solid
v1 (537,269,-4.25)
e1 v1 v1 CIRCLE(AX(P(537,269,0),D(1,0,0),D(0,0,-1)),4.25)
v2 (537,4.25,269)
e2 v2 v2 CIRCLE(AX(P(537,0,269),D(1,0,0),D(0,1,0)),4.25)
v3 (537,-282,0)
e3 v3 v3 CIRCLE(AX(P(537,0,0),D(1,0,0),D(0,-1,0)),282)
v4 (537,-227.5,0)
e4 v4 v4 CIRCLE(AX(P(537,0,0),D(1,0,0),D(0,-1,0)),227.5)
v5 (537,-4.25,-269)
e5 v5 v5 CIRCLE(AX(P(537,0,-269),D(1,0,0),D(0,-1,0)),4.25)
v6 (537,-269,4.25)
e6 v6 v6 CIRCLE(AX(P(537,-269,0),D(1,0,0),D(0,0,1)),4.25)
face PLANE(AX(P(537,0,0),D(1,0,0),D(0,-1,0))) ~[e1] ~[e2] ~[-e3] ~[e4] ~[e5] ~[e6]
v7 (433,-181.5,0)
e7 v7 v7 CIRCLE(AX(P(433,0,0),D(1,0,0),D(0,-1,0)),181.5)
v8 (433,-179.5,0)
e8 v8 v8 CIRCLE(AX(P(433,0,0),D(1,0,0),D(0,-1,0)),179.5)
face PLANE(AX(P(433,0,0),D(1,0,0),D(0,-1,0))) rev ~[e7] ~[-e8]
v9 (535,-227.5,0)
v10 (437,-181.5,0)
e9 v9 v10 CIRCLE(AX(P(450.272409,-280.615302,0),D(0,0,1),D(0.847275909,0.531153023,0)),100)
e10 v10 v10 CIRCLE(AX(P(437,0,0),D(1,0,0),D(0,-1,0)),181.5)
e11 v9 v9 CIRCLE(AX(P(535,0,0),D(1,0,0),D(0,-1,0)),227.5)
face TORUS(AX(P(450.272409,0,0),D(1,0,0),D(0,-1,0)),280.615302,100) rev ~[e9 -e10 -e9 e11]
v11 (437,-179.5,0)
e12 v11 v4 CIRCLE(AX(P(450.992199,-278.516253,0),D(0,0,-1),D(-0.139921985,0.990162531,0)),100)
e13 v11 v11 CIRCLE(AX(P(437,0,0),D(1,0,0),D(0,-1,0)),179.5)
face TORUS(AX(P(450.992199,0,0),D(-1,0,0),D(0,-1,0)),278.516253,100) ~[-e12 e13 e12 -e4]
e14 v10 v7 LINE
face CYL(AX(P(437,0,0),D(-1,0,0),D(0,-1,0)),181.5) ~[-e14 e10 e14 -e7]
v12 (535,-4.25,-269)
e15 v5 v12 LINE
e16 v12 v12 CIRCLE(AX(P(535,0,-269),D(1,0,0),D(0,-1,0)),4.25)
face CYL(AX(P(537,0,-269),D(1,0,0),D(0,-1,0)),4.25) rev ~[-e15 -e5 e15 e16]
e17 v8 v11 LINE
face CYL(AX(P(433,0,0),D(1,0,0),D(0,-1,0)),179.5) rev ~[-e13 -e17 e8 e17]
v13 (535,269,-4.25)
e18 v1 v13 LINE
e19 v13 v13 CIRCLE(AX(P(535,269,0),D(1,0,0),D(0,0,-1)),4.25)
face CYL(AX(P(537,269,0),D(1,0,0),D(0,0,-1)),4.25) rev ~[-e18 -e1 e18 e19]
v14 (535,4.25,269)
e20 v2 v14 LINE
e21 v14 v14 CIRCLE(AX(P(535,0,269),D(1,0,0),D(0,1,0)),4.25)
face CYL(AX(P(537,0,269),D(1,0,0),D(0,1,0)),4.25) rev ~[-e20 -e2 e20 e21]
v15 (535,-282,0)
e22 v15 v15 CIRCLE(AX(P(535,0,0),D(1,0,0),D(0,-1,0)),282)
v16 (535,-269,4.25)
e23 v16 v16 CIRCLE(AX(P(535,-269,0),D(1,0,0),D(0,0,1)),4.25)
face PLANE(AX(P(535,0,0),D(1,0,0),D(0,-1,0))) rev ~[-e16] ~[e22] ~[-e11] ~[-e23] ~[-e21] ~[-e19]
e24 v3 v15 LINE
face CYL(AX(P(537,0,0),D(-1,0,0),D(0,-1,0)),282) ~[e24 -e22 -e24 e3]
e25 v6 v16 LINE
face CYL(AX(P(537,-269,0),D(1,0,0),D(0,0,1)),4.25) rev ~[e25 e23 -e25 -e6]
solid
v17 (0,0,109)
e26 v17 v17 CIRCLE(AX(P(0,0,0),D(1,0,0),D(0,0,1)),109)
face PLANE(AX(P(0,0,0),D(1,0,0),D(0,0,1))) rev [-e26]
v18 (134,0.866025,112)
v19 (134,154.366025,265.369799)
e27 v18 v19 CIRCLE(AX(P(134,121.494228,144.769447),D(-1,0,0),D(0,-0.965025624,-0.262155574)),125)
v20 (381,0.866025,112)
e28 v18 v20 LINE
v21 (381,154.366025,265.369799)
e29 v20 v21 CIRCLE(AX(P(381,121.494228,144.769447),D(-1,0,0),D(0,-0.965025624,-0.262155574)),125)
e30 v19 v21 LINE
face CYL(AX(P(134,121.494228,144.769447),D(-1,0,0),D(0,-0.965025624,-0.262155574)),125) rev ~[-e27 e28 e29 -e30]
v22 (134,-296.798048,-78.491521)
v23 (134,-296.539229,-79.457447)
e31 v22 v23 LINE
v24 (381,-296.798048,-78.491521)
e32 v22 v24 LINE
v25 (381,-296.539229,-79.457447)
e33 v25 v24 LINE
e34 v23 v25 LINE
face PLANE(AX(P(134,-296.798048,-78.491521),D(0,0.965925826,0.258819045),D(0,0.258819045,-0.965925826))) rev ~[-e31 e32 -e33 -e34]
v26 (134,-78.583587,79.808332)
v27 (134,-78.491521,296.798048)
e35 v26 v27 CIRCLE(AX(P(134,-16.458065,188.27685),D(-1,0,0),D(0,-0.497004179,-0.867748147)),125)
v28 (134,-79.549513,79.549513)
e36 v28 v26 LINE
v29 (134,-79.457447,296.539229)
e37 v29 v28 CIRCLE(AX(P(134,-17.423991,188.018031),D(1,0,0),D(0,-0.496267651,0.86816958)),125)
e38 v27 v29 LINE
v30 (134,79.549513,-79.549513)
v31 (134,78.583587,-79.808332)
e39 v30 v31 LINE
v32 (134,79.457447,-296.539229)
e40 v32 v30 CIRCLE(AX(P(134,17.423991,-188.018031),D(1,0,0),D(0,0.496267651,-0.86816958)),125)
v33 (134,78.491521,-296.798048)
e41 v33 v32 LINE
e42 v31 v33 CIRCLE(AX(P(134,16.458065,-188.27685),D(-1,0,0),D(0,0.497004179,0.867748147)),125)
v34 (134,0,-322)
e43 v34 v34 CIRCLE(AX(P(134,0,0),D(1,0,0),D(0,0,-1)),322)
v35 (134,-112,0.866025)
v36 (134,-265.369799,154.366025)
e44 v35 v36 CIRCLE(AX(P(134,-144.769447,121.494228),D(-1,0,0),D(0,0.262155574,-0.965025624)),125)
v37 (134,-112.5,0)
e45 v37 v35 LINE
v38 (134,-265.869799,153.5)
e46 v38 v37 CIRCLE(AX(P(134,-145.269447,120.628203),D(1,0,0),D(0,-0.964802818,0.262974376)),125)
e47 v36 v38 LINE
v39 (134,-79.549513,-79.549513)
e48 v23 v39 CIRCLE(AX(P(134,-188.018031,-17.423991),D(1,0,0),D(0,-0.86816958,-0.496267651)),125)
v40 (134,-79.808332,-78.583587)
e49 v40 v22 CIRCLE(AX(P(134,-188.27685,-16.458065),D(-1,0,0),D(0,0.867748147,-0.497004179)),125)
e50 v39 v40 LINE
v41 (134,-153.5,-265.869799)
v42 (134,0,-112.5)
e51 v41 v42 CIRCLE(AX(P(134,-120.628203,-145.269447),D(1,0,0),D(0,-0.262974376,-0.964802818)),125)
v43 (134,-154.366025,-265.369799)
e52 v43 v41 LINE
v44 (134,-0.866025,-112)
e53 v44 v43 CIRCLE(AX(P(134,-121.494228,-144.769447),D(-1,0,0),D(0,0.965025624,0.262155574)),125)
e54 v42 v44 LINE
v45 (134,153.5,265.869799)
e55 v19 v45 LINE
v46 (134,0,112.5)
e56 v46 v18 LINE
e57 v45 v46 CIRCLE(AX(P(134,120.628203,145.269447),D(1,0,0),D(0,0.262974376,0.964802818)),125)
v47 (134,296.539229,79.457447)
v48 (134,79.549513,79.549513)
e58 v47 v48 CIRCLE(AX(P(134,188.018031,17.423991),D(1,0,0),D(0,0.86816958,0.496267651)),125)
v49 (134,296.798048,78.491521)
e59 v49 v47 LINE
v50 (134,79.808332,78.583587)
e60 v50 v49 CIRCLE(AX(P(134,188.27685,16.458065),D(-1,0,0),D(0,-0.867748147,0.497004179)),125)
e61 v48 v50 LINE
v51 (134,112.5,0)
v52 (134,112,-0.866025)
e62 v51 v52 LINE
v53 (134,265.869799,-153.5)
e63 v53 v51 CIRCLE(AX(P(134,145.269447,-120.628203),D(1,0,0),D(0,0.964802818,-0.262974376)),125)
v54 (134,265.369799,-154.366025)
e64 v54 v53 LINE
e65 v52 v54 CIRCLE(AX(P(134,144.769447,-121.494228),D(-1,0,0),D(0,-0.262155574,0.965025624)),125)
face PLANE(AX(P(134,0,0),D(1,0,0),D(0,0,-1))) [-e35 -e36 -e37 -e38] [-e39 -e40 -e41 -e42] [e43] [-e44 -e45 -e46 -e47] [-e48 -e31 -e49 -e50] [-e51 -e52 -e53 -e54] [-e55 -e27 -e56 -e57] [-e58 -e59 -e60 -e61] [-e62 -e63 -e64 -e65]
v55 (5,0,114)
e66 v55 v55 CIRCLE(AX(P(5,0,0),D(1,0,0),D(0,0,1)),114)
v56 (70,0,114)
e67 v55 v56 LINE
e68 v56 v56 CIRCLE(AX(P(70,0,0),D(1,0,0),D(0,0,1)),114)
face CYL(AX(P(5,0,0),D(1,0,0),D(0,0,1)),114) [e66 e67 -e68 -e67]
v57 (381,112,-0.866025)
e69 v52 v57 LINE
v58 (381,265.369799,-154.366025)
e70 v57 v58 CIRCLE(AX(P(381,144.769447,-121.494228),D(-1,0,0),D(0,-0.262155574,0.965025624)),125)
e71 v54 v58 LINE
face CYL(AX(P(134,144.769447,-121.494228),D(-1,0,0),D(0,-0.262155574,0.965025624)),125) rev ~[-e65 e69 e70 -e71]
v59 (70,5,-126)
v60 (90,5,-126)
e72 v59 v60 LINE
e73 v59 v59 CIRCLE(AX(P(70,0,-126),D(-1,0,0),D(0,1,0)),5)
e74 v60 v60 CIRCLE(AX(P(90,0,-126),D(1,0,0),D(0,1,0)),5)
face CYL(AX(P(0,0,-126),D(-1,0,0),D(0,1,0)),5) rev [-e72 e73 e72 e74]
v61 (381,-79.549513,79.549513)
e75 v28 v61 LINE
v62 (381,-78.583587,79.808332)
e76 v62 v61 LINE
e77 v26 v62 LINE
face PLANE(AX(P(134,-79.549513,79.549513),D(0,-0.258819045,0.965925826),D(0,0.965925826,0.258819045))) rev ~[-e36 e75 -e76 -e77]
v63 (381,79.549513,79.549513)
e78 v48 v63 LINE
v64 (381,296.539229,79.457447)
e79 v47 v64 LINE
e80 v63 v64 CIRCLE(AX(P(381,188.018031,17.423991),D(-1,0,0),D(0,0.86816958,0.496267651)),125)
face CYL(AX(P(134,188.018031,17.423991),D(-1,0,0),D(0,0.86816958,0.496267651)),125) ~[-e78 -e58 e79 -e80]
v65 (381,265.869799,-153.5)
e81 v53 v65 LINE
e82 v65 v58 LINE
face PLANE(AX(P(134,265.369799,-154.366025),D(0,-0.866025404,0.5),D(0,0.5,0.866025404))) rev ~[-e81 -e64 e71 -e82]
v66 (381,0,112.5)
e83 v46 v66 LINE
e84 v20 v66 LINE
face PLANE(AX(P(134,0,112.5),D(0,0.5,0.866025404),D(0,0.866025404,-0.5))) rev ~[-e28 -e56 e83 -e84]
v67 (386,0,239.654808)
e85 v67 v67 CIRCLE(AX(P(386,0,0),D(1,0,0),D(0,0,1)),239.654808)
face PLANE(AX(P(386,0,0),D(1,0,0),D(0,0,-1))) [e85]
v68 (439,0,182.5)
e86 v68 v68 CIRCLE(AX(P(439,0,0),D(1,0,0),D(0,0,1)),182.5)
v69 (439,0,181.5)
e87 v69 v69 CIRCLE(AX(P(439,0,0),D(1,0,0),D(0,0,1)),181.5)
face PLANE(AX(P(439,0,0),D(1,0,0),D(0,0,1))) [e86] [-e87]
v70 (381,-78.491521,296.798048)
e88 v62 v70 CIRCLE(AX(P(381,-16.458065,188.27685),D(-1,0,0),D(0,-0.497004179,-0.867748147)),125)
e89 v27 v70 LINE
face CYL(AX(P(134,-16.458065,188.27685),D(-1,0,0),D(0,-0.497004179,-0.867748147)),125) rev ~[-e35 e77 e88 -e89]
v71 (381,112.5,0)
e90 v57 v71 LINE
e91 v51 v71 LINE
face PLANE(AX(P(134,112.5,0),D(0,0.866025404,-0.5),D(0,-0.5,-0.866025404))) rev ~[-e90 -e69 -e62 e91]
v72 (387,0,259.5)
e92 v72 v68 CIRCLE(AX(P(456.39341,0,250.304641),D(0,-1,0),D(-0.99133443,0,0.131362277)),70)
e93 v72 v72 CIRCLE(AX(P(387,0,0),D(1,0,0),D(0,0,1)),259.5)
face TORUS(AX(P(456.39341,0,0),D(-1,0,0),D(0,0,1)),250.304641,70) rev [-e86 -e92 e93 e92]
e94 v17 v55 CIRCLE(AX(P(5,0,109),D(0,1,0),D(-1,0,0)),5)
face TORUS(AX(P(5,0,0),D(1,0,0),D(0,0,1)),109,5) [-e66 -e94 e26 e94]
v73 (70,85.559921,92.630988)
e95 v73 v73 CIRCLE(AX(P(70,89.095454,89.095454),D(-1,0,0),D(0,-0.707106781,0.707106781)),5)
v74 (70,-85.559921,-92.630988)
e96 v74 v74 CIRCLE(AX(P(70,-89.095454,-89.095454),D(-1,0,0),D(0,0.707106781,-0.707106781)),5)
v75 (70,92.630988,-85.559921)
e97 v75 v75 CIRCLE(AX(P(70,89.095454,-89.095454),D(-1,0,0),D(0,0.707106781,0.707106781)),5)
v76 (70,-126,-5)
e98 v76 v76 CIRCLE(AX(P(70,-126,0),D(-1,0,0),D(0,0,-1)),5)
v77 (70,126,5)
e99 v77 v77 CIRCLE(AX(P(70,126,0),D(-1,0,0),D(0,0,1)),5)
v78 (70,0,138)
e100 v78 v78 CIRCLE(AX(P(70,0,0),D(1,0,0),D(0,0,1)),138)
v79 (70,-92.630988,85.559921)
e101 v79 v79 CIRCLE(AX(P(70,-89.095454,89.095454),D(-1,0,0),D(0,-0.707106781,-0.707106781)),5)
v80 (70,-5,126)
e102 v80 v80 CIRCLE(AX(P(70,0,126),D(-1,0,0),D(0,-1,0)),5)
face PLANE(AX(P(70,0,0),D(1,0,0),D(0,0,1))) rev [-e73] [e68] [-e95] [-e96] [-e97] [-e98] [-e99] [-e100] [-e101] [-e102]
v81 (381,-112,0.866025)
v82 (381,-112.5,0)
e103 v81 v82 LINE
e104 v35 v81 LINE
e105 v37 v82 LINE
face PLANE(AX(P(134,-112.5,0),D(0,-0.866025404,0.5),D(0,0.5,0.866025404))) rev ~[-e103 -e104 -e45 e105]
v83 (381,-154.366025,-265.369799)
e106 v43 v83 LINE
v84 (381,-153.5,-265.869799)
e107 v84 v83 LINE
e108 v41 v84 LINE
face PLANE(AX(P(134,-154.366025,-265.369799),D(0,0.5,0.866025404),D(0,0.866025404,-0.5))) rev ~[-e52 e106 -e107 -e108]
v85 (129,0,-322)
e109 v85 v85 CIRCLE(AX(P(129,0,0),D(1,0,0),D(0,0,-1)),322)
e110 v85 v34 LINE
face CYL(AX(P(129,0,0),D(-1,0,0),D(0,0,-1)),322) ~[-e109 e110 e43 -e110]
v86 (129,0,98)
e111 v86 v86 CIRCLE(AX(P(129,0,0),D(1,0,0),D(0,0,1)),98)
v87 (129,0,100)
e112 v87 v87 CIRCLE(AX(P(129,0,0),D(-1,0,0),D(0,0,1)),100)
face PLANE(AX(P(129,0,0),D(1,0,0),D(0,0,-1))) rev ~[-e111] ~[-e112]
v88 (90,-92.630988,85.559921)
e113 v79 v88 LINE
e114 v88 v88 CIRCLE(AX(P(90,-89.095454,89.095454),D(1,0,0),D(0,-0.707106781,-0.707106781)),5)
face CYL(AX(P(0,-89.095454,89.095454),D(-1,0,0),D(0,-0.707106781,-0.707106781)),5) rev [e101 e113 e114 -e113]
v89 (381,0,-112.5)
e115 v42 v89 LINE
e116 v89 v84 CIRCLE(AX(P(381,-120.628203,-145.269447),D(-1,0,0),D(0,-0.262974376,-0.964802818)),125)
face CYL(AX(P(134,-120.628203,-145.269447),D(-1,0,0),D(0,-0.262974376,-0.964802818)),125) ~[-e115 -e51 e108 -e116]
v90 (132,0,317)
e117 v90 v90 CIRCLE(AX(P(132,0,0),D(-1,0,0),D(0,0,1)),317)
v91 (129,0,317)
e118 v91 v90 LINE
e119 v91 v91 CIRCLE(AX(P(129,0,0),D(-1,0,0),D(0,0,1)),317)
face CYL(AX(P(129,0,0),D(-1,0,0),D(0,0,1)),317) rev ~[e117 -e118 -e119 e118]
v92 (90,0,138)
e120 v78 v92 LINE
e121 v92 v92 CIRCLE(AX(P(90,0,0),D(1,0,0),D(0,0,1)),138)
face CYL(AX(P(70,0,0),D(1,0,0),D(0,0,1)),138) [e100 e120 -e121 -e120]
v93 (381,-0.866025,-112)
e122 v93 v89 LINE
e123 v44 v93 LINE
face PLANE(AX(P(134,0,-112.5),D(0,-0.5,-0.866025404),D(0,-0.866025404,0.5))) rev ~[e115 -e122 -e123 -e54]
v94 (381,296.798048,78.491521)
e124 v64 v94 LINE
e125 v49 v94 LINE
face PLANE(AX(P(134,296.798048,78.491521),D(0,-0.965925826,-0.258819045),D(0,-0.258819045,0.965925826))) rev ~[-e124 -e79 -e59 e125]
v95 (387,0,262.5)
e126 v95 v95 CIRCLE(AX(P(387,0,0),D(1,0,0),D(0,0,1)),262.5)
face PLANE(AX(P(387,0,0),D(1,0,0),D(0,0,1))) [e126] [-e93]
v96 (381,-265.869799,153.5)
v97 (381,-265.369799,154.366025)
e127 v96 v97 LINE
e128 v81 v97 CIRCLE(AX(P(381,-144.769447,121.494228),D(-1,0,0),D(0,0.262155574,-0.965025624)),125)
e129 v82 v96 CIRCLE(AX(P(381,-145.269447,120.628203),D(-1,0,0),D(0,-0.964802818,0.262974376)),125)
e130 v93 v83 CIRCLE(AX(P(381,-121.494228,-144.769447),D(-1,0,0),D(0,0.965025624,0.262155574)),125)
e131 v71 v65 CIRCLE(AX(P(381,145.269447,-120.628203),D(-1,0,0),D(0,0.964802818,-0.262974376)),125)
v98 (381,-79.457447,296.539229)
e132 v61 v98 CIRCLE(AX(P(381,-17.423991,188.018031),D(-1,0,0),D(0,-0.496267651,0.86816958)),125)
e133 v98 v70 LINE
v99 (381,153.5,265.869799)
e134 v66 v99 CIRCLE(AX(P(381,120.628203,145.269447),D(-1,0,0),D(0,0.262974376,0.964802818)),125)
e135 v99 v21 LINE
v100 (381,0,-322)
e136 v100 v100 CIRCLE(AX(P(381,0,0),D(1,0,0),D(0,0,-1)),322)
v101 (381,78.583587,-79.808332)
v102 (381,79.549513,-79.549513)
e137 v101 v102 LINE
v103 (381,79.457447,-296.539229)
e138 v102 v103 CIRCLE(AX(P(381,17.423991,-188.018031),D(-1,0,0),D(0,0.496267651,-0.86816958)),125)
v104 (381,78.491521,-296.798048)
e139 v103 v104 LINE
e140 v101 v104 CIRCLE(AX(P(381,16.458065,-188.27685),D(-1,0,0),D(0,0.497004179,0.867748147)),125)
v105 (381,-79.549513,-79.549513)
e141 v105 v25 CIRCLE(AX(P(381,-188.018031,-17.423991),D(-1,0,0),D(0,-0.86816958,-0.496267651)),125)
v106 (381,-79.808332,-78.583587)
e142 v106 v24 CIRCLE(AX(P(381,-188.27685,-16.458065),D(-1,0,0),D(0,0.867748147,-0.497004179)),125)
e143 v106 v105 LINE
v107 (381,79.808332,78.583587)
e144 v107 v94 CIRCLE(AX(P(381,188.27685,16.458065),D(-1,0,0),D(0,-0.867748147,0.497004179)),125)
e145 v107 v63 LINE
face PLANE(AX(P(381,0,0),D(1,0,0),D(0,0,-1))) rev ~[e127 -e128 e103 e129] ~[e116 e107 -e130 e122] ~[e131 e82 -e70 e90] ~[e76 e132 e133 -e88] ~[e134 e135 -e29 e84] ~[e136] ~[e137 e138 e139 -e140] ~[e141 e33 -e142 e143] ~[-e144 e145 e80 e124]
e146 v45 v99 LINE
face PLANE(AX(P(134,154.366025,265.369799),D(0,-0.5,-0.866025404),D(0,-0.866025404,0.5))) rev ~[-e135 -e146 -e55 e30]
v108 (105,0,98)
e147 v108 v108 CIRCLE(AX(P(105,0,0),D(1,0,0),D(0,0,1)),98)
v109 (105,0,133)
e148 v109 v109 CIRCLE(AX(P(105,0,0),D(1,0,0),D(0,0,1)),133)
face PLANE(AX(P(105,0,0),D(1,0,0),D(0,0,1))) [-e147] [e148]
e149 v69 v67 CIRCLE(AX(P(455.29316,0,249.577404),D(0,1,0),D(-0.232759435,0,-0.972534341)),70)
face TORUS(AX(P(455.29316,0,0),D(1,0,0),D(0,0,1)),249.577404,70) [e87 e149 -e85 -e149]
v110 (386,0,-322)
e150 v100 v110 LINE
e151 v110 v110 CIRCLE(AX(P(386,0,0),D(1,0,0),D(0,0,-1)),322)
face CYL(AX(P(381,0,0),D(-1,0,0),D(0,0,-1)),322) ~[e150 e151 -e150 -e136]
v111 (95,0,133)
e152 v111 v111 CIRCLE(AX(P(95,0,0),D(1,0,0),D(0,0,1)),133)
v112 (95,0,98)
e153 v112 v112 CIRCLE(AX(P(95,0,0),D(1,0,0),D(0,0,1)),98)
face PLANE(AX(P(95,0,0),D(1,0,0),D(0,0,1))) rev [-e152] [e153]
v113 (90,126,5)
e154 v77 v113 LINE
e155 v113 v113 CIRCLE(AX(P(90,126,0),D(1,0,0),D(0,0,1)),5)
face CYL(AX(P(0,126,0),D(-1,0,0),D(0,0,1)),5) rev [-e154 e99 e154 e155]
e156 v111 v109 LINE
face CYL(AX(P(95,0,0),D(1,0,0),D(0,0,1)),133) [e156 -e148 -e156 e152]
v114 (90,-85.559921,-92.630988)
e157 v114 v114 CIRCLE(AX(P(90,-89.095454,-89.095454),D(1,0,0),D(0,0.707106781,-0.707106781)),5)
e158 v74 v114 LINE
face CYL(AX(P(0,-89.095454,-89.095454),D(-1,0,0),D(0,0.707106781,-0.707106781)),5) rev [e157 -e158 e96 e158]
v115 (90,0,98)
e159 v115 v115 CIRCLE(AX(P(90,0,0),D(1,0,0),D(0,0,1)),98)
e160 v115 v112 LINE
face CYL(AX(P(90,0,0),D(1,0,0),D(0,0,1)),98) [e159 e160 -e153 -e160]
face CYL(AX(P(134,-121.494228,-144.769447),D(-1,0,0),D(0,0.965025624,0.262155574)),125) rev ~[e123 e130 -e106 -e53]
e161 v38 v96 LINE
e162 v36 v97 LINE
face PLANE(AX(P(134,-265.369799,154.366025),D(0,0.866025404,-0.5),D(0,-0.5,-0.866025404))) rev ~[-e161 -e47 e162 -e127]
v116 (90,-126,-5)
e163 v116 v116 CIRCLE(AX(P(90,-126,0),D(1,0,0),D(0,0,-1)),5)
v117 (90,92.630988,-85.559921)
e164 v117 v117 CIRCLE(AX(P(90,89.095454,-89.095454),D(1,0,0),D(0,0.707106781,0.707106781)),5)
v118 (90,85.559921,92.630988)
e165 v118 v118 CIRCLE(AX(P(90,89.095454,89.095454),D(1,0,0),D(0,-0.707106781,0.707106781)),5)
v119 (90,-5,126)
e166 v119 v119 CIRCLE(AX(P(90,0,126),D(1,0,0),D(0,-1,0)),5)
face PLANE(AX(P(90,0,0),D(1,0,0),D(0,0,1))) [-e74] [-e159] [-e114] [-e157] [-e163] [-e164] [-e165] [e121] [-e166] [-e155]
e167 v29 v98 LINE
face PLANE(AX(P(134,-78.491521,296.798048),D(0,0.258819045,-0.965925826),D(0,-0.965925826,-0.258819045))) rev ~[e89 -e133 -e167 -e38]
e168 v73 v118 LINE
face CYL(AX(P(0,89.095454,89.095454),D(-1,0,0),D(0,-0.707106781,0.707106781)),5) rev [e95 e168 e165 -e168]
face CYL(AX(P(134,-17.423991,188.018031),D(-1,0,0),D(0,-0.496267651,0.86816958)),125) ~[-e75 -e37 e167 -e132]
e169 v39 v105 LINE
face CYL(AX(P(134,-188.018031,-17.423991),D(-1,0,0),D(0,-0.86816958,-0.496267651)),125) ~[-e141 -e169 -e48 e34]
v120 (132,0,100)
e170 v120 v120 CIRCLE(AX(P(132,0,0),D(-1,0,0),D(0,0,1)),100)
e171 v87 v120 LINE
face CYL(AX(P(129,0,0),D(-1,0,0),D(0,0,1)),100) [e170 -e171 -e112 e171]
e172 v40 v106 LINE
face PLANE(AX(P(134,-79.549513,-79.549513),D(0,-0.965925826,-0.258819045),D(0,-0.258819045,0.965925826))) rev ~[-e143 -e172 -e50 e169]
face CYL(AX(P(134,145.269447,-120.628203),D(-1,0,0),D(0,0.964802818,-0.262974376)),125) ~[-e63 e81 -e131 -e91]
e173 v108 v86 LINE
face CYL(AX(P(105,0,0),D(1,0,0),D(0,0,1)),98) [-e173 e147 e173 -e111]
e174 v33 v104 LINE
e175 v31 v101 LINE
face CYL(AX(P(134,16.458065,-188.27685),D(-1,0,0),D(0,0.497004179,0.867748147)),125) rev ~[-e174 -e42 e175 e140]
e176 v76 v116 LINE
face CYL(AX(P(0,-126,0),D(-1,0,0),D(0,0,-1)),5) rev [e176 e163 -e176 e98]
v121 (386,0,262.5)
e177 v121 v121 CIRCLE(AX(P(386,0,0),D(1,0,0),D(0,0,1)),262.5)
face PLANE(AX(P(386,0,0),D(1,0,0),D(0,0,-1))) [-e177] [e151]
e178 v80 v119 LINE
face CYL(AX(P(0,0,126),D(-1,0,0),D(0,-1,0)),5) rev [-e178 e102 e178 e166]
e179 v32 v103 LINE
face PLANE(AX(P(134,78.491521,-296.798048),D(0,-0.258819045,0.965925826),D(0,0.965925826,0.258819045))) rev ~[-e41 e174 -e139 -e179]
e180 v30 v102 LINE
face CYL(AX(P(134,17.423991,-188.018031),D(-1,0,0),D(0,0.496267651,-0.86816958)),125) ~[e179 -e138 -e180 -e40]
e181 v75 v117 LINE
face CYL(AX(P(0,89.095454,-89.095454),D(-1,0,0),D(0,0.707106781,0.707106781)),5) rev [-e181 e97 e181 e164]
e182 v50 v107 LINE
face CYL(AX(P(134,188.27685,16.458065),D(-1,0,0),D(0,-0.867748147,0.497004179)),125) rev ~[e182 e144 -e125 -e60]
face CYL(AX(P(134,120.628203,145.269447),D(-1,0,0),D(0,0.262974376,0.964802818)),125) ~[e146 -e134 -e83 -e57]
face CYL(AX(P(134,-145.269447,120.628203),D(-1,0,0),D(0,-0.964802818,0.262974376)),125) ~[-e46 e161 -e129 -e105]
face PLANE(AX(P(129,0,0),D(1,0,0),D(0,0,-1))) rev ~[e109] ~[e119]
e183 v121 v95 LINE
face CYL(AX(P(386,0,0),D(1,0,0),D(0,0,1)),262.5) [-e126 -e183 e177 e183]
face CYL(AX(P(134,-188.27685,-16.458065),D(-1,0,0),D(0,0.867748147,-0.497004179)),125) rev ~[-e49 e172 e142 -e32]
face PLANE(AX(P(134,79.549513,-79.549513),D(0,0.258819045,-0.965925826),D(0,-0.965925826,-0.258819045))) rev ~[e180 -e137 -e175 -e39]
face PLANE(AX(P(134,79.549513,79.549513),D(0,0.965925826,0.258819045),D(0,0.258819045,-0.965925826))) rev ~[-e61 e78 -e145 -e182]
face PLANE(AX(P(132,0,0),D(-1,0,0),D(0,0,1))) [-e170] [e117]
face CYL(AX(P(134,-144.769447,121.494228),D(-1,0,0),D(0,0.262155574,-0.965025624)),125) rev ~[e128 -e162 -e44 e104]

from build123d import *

# Parameters (mm, degrees)
SKETCH2_R         = 322
EXTRUDE1_DEPTH    = 5
SKETCH9_R         = 317
SKETCH9_R_2       = 100
EXTRUDE7_DEPTH    = 3
SKETCH3_R         = 322
EXTRUDE2_DEPTH    = 5
EXTRUDE3_DEPTH    = 252
CIRPATTERN1_COUNT = 8
SKETCH7_R         = 4.25
EXTRUDE5_DEPTH    = 5
CIRPATTERN2_COUNT = 4
SKETCH8_R         = 5
EXTRUDE6_DEPTH    = 90
CIRPATTERN3_COUNT = 8


with BuildPart() as part:
    # Sketch1 → Revolve1 (revolve)
    with BuildSketch(Plane.XY, mode=Mode.PRIVATE) as revolve1_sk:
        with BuildLine():
            Line((0, 0), (0, 109))
            ThreePointArc((0, 109), (1.464466094, 112.535533906), (5, 114))
            Line((5, 114), (70, 114))
            Line((70, 114), (70, 138))
            Line((70, 138), (90, 138))
            Line((90, 138), (90, 98))
            Line((90, 98), (95, 98))
            Line((95, 98), (95, 133))
            Line((95, 133), (105, 133))
            Line((105, 133), (105, 98))
            Line((105, 98), (129, 98))
            Line((129, 98), (129, 0))
            Line((129, 0), (0, 0))
        make_face()
    revolve(revolve1_sk.sketch.rotate(Axis((0, 0, 0), (1, 0, 0)), 90), axis=Axis((0, 0, 0), (1, 0, 0)))

    # Sketch2 → Extrude1 (add)
    with BuildSketch(Plane(origin=(129, 0, 0), x_dir=(0, 0, -1), z_dir=(1, 0, 0))):
        Circle(SKETCH2_R)
    extrude(amount=EXTRUDE1_DEPTH)

    # Sketch9 → Extrude7 (cut)
    with BuildSketch(Plane.ZY.offset(-129)):
        Circle(SKETCH9_R)
        Circle(SKETCH9_R_2, mode=Mode.SUBTRACT)
    extrude(amount=-EXTRUDE7_DEPTH, mode=Mode.SUBTRACT)



with BuildPart() as body_2:
    # Sketch3 → Extrude2 (new body)
    with BuildSketch(Plane(origin=(381, 0, 0), x_dir=(0, 0, -1), z_dir=(1, 0, 0))):
        Circle(SKETCH3_R)
    extrude(amount=EXTRUDE2_DEPTH)


with BuildPart() as part_1:
    add(part.part)

    add(body_2.part)  # Extrude3 merges body 2
    # Sketch4 → Extrude3 (add)
    with BuildSketch(Plane(origin=(134, 0, 0), x_dir=(0, 0, -1), z_dir=(1, 0, 0))):
        with BuildLine():
            Line((0, 112.5), (0.866025404, 112))
            ThreePointArc((0.866025404, 112), (33.143390798, 233.195288477), (154.366025404, 265.369798962))
            Line((154.366025404, 265.369798962), (153.5, 265.869798962))
            ThreePointArc((153.5, 265.869798962), (32.277365394, 233.695288477), (0, 112.5))
        make_face()
    extrude3 = extrude(amount=EXTRUDE3_DEPTH)

    # CirPattern1: Extrude3 ×8 about axis
    cirpattern1_axis = Axis((0, 0, 0), (1, 0, 0))
    for i in range(1, CIRPATTERN1_COUNT):
        add(extrude3.rotate(cirpattern1_axis, i * 360 / CIRPATTERN1_COUNT))

    # Sketch5 → Revolve2 (revolve)
    with BuildSketch(Plane.XY, mode=Mode.PRIVATE) as revolve2_sk:
        with BuildLine():
            Line((386, 262.5), (387, 262.5))
            Line((387, 262.5), (387, 259.5))
            ThreePointArc((387, 259.5), (398.382738322, 211.128602503), (439, 182.5))
            Line((439, 182.5), (439, 181.5))
            ThreePointArc((439, 181.5), (397.394502599, 210.236008176), (386, 259.5))
            Line((386, 259.5), (386, 262.5))
        make_face()
    revolve(revolve2_sk.sketch.rotate(Axis((0, 0, 0), (1, 0, 0)), 90), axis=Axis((0, 0, 0), (1, 0, 0)))

    # Sketch8 → Extrude6 (cut)
    with BuildSketch(Plane(origin=(0, 0, 0), x_dir=(0, 0, -1), z_dir=(1, 0, 0))):
        with Locations(Location((0, 126, 0), (0, 0, 180))):
            Circle(SKETCH8_R)
    extrude6 = extrude(amount=EXTRUDE6_DEPTH, mode=Mode.SUBTRACT)

    # CirPattern3: Extrude6 ×8 about axis
    cirpattern3_axis = Axis((0, 0, 0), (1, 0, 0))
    for i in range(1, CIRPATTERN3_COUNT):
        add(extrude6.rotate(cirpattern3_axis, i * 360 / CIRPATTERN3_COUNT), mode=Mode.SUBTRACT)


with BuildPart() as body_2_2:
    # Sketch6 → Revolve3 (revolve)
    with BuildSketch(Plane.XY, mode=Mode.PRIVATE) as revolve3_sk:
        with BuildLine():
            Line((537, 282), (535, 282))
            Line((535, 282), (535, 227.5))
            ThreePointArc((535, 227.5), (492.763122811, 190.091607925), (437, 181.5))
            Line((437, 181.5), (433, 181.5))
            Line((433, 181.5), (433, 179.5))
            Line((433, 179.5), (437, 179.5))
            ThreePointArc((437, 179.5), (494.265305263, 188.363947369), (537, 227.5))
            Line((537, 227.5), (537, 282))
        make_face()
    revolve(revolve3_sk.sketch.rotate(Axis((0, 0, 0), (1, 0, 0)), 180), axis=Axis((0, 0, 0), (1, 0, 0)))

    # Sketch7 → Extrude5 (cut)
    with BuildSketch(Plane(origin=(537, 0, 0), x_dir=(0, 0, -1), z_dir=(1, 0, 0))):
        with Locations((0, 269)):
            Circle(SKETCH7_R)
    extrude5 = extrude(amount=-EXTRUDE5_DEPTH, mode=Mode.SUBTRACT)

    # CirPattern2: Extrude5 ×4 about axis
    cirpattern2_axis = Axis((0, 0, 0), (1, 0, 0))
    for i in range(1, CIRPATTERN2_COUNT):
        add(extrude5.rotate(cirpattern2_axis, i * 360 / CIRPATTERN2_COUNT), mode=Mode.SUBTRACT)


solid = Compound([part_1.part, body_2_2.part])
